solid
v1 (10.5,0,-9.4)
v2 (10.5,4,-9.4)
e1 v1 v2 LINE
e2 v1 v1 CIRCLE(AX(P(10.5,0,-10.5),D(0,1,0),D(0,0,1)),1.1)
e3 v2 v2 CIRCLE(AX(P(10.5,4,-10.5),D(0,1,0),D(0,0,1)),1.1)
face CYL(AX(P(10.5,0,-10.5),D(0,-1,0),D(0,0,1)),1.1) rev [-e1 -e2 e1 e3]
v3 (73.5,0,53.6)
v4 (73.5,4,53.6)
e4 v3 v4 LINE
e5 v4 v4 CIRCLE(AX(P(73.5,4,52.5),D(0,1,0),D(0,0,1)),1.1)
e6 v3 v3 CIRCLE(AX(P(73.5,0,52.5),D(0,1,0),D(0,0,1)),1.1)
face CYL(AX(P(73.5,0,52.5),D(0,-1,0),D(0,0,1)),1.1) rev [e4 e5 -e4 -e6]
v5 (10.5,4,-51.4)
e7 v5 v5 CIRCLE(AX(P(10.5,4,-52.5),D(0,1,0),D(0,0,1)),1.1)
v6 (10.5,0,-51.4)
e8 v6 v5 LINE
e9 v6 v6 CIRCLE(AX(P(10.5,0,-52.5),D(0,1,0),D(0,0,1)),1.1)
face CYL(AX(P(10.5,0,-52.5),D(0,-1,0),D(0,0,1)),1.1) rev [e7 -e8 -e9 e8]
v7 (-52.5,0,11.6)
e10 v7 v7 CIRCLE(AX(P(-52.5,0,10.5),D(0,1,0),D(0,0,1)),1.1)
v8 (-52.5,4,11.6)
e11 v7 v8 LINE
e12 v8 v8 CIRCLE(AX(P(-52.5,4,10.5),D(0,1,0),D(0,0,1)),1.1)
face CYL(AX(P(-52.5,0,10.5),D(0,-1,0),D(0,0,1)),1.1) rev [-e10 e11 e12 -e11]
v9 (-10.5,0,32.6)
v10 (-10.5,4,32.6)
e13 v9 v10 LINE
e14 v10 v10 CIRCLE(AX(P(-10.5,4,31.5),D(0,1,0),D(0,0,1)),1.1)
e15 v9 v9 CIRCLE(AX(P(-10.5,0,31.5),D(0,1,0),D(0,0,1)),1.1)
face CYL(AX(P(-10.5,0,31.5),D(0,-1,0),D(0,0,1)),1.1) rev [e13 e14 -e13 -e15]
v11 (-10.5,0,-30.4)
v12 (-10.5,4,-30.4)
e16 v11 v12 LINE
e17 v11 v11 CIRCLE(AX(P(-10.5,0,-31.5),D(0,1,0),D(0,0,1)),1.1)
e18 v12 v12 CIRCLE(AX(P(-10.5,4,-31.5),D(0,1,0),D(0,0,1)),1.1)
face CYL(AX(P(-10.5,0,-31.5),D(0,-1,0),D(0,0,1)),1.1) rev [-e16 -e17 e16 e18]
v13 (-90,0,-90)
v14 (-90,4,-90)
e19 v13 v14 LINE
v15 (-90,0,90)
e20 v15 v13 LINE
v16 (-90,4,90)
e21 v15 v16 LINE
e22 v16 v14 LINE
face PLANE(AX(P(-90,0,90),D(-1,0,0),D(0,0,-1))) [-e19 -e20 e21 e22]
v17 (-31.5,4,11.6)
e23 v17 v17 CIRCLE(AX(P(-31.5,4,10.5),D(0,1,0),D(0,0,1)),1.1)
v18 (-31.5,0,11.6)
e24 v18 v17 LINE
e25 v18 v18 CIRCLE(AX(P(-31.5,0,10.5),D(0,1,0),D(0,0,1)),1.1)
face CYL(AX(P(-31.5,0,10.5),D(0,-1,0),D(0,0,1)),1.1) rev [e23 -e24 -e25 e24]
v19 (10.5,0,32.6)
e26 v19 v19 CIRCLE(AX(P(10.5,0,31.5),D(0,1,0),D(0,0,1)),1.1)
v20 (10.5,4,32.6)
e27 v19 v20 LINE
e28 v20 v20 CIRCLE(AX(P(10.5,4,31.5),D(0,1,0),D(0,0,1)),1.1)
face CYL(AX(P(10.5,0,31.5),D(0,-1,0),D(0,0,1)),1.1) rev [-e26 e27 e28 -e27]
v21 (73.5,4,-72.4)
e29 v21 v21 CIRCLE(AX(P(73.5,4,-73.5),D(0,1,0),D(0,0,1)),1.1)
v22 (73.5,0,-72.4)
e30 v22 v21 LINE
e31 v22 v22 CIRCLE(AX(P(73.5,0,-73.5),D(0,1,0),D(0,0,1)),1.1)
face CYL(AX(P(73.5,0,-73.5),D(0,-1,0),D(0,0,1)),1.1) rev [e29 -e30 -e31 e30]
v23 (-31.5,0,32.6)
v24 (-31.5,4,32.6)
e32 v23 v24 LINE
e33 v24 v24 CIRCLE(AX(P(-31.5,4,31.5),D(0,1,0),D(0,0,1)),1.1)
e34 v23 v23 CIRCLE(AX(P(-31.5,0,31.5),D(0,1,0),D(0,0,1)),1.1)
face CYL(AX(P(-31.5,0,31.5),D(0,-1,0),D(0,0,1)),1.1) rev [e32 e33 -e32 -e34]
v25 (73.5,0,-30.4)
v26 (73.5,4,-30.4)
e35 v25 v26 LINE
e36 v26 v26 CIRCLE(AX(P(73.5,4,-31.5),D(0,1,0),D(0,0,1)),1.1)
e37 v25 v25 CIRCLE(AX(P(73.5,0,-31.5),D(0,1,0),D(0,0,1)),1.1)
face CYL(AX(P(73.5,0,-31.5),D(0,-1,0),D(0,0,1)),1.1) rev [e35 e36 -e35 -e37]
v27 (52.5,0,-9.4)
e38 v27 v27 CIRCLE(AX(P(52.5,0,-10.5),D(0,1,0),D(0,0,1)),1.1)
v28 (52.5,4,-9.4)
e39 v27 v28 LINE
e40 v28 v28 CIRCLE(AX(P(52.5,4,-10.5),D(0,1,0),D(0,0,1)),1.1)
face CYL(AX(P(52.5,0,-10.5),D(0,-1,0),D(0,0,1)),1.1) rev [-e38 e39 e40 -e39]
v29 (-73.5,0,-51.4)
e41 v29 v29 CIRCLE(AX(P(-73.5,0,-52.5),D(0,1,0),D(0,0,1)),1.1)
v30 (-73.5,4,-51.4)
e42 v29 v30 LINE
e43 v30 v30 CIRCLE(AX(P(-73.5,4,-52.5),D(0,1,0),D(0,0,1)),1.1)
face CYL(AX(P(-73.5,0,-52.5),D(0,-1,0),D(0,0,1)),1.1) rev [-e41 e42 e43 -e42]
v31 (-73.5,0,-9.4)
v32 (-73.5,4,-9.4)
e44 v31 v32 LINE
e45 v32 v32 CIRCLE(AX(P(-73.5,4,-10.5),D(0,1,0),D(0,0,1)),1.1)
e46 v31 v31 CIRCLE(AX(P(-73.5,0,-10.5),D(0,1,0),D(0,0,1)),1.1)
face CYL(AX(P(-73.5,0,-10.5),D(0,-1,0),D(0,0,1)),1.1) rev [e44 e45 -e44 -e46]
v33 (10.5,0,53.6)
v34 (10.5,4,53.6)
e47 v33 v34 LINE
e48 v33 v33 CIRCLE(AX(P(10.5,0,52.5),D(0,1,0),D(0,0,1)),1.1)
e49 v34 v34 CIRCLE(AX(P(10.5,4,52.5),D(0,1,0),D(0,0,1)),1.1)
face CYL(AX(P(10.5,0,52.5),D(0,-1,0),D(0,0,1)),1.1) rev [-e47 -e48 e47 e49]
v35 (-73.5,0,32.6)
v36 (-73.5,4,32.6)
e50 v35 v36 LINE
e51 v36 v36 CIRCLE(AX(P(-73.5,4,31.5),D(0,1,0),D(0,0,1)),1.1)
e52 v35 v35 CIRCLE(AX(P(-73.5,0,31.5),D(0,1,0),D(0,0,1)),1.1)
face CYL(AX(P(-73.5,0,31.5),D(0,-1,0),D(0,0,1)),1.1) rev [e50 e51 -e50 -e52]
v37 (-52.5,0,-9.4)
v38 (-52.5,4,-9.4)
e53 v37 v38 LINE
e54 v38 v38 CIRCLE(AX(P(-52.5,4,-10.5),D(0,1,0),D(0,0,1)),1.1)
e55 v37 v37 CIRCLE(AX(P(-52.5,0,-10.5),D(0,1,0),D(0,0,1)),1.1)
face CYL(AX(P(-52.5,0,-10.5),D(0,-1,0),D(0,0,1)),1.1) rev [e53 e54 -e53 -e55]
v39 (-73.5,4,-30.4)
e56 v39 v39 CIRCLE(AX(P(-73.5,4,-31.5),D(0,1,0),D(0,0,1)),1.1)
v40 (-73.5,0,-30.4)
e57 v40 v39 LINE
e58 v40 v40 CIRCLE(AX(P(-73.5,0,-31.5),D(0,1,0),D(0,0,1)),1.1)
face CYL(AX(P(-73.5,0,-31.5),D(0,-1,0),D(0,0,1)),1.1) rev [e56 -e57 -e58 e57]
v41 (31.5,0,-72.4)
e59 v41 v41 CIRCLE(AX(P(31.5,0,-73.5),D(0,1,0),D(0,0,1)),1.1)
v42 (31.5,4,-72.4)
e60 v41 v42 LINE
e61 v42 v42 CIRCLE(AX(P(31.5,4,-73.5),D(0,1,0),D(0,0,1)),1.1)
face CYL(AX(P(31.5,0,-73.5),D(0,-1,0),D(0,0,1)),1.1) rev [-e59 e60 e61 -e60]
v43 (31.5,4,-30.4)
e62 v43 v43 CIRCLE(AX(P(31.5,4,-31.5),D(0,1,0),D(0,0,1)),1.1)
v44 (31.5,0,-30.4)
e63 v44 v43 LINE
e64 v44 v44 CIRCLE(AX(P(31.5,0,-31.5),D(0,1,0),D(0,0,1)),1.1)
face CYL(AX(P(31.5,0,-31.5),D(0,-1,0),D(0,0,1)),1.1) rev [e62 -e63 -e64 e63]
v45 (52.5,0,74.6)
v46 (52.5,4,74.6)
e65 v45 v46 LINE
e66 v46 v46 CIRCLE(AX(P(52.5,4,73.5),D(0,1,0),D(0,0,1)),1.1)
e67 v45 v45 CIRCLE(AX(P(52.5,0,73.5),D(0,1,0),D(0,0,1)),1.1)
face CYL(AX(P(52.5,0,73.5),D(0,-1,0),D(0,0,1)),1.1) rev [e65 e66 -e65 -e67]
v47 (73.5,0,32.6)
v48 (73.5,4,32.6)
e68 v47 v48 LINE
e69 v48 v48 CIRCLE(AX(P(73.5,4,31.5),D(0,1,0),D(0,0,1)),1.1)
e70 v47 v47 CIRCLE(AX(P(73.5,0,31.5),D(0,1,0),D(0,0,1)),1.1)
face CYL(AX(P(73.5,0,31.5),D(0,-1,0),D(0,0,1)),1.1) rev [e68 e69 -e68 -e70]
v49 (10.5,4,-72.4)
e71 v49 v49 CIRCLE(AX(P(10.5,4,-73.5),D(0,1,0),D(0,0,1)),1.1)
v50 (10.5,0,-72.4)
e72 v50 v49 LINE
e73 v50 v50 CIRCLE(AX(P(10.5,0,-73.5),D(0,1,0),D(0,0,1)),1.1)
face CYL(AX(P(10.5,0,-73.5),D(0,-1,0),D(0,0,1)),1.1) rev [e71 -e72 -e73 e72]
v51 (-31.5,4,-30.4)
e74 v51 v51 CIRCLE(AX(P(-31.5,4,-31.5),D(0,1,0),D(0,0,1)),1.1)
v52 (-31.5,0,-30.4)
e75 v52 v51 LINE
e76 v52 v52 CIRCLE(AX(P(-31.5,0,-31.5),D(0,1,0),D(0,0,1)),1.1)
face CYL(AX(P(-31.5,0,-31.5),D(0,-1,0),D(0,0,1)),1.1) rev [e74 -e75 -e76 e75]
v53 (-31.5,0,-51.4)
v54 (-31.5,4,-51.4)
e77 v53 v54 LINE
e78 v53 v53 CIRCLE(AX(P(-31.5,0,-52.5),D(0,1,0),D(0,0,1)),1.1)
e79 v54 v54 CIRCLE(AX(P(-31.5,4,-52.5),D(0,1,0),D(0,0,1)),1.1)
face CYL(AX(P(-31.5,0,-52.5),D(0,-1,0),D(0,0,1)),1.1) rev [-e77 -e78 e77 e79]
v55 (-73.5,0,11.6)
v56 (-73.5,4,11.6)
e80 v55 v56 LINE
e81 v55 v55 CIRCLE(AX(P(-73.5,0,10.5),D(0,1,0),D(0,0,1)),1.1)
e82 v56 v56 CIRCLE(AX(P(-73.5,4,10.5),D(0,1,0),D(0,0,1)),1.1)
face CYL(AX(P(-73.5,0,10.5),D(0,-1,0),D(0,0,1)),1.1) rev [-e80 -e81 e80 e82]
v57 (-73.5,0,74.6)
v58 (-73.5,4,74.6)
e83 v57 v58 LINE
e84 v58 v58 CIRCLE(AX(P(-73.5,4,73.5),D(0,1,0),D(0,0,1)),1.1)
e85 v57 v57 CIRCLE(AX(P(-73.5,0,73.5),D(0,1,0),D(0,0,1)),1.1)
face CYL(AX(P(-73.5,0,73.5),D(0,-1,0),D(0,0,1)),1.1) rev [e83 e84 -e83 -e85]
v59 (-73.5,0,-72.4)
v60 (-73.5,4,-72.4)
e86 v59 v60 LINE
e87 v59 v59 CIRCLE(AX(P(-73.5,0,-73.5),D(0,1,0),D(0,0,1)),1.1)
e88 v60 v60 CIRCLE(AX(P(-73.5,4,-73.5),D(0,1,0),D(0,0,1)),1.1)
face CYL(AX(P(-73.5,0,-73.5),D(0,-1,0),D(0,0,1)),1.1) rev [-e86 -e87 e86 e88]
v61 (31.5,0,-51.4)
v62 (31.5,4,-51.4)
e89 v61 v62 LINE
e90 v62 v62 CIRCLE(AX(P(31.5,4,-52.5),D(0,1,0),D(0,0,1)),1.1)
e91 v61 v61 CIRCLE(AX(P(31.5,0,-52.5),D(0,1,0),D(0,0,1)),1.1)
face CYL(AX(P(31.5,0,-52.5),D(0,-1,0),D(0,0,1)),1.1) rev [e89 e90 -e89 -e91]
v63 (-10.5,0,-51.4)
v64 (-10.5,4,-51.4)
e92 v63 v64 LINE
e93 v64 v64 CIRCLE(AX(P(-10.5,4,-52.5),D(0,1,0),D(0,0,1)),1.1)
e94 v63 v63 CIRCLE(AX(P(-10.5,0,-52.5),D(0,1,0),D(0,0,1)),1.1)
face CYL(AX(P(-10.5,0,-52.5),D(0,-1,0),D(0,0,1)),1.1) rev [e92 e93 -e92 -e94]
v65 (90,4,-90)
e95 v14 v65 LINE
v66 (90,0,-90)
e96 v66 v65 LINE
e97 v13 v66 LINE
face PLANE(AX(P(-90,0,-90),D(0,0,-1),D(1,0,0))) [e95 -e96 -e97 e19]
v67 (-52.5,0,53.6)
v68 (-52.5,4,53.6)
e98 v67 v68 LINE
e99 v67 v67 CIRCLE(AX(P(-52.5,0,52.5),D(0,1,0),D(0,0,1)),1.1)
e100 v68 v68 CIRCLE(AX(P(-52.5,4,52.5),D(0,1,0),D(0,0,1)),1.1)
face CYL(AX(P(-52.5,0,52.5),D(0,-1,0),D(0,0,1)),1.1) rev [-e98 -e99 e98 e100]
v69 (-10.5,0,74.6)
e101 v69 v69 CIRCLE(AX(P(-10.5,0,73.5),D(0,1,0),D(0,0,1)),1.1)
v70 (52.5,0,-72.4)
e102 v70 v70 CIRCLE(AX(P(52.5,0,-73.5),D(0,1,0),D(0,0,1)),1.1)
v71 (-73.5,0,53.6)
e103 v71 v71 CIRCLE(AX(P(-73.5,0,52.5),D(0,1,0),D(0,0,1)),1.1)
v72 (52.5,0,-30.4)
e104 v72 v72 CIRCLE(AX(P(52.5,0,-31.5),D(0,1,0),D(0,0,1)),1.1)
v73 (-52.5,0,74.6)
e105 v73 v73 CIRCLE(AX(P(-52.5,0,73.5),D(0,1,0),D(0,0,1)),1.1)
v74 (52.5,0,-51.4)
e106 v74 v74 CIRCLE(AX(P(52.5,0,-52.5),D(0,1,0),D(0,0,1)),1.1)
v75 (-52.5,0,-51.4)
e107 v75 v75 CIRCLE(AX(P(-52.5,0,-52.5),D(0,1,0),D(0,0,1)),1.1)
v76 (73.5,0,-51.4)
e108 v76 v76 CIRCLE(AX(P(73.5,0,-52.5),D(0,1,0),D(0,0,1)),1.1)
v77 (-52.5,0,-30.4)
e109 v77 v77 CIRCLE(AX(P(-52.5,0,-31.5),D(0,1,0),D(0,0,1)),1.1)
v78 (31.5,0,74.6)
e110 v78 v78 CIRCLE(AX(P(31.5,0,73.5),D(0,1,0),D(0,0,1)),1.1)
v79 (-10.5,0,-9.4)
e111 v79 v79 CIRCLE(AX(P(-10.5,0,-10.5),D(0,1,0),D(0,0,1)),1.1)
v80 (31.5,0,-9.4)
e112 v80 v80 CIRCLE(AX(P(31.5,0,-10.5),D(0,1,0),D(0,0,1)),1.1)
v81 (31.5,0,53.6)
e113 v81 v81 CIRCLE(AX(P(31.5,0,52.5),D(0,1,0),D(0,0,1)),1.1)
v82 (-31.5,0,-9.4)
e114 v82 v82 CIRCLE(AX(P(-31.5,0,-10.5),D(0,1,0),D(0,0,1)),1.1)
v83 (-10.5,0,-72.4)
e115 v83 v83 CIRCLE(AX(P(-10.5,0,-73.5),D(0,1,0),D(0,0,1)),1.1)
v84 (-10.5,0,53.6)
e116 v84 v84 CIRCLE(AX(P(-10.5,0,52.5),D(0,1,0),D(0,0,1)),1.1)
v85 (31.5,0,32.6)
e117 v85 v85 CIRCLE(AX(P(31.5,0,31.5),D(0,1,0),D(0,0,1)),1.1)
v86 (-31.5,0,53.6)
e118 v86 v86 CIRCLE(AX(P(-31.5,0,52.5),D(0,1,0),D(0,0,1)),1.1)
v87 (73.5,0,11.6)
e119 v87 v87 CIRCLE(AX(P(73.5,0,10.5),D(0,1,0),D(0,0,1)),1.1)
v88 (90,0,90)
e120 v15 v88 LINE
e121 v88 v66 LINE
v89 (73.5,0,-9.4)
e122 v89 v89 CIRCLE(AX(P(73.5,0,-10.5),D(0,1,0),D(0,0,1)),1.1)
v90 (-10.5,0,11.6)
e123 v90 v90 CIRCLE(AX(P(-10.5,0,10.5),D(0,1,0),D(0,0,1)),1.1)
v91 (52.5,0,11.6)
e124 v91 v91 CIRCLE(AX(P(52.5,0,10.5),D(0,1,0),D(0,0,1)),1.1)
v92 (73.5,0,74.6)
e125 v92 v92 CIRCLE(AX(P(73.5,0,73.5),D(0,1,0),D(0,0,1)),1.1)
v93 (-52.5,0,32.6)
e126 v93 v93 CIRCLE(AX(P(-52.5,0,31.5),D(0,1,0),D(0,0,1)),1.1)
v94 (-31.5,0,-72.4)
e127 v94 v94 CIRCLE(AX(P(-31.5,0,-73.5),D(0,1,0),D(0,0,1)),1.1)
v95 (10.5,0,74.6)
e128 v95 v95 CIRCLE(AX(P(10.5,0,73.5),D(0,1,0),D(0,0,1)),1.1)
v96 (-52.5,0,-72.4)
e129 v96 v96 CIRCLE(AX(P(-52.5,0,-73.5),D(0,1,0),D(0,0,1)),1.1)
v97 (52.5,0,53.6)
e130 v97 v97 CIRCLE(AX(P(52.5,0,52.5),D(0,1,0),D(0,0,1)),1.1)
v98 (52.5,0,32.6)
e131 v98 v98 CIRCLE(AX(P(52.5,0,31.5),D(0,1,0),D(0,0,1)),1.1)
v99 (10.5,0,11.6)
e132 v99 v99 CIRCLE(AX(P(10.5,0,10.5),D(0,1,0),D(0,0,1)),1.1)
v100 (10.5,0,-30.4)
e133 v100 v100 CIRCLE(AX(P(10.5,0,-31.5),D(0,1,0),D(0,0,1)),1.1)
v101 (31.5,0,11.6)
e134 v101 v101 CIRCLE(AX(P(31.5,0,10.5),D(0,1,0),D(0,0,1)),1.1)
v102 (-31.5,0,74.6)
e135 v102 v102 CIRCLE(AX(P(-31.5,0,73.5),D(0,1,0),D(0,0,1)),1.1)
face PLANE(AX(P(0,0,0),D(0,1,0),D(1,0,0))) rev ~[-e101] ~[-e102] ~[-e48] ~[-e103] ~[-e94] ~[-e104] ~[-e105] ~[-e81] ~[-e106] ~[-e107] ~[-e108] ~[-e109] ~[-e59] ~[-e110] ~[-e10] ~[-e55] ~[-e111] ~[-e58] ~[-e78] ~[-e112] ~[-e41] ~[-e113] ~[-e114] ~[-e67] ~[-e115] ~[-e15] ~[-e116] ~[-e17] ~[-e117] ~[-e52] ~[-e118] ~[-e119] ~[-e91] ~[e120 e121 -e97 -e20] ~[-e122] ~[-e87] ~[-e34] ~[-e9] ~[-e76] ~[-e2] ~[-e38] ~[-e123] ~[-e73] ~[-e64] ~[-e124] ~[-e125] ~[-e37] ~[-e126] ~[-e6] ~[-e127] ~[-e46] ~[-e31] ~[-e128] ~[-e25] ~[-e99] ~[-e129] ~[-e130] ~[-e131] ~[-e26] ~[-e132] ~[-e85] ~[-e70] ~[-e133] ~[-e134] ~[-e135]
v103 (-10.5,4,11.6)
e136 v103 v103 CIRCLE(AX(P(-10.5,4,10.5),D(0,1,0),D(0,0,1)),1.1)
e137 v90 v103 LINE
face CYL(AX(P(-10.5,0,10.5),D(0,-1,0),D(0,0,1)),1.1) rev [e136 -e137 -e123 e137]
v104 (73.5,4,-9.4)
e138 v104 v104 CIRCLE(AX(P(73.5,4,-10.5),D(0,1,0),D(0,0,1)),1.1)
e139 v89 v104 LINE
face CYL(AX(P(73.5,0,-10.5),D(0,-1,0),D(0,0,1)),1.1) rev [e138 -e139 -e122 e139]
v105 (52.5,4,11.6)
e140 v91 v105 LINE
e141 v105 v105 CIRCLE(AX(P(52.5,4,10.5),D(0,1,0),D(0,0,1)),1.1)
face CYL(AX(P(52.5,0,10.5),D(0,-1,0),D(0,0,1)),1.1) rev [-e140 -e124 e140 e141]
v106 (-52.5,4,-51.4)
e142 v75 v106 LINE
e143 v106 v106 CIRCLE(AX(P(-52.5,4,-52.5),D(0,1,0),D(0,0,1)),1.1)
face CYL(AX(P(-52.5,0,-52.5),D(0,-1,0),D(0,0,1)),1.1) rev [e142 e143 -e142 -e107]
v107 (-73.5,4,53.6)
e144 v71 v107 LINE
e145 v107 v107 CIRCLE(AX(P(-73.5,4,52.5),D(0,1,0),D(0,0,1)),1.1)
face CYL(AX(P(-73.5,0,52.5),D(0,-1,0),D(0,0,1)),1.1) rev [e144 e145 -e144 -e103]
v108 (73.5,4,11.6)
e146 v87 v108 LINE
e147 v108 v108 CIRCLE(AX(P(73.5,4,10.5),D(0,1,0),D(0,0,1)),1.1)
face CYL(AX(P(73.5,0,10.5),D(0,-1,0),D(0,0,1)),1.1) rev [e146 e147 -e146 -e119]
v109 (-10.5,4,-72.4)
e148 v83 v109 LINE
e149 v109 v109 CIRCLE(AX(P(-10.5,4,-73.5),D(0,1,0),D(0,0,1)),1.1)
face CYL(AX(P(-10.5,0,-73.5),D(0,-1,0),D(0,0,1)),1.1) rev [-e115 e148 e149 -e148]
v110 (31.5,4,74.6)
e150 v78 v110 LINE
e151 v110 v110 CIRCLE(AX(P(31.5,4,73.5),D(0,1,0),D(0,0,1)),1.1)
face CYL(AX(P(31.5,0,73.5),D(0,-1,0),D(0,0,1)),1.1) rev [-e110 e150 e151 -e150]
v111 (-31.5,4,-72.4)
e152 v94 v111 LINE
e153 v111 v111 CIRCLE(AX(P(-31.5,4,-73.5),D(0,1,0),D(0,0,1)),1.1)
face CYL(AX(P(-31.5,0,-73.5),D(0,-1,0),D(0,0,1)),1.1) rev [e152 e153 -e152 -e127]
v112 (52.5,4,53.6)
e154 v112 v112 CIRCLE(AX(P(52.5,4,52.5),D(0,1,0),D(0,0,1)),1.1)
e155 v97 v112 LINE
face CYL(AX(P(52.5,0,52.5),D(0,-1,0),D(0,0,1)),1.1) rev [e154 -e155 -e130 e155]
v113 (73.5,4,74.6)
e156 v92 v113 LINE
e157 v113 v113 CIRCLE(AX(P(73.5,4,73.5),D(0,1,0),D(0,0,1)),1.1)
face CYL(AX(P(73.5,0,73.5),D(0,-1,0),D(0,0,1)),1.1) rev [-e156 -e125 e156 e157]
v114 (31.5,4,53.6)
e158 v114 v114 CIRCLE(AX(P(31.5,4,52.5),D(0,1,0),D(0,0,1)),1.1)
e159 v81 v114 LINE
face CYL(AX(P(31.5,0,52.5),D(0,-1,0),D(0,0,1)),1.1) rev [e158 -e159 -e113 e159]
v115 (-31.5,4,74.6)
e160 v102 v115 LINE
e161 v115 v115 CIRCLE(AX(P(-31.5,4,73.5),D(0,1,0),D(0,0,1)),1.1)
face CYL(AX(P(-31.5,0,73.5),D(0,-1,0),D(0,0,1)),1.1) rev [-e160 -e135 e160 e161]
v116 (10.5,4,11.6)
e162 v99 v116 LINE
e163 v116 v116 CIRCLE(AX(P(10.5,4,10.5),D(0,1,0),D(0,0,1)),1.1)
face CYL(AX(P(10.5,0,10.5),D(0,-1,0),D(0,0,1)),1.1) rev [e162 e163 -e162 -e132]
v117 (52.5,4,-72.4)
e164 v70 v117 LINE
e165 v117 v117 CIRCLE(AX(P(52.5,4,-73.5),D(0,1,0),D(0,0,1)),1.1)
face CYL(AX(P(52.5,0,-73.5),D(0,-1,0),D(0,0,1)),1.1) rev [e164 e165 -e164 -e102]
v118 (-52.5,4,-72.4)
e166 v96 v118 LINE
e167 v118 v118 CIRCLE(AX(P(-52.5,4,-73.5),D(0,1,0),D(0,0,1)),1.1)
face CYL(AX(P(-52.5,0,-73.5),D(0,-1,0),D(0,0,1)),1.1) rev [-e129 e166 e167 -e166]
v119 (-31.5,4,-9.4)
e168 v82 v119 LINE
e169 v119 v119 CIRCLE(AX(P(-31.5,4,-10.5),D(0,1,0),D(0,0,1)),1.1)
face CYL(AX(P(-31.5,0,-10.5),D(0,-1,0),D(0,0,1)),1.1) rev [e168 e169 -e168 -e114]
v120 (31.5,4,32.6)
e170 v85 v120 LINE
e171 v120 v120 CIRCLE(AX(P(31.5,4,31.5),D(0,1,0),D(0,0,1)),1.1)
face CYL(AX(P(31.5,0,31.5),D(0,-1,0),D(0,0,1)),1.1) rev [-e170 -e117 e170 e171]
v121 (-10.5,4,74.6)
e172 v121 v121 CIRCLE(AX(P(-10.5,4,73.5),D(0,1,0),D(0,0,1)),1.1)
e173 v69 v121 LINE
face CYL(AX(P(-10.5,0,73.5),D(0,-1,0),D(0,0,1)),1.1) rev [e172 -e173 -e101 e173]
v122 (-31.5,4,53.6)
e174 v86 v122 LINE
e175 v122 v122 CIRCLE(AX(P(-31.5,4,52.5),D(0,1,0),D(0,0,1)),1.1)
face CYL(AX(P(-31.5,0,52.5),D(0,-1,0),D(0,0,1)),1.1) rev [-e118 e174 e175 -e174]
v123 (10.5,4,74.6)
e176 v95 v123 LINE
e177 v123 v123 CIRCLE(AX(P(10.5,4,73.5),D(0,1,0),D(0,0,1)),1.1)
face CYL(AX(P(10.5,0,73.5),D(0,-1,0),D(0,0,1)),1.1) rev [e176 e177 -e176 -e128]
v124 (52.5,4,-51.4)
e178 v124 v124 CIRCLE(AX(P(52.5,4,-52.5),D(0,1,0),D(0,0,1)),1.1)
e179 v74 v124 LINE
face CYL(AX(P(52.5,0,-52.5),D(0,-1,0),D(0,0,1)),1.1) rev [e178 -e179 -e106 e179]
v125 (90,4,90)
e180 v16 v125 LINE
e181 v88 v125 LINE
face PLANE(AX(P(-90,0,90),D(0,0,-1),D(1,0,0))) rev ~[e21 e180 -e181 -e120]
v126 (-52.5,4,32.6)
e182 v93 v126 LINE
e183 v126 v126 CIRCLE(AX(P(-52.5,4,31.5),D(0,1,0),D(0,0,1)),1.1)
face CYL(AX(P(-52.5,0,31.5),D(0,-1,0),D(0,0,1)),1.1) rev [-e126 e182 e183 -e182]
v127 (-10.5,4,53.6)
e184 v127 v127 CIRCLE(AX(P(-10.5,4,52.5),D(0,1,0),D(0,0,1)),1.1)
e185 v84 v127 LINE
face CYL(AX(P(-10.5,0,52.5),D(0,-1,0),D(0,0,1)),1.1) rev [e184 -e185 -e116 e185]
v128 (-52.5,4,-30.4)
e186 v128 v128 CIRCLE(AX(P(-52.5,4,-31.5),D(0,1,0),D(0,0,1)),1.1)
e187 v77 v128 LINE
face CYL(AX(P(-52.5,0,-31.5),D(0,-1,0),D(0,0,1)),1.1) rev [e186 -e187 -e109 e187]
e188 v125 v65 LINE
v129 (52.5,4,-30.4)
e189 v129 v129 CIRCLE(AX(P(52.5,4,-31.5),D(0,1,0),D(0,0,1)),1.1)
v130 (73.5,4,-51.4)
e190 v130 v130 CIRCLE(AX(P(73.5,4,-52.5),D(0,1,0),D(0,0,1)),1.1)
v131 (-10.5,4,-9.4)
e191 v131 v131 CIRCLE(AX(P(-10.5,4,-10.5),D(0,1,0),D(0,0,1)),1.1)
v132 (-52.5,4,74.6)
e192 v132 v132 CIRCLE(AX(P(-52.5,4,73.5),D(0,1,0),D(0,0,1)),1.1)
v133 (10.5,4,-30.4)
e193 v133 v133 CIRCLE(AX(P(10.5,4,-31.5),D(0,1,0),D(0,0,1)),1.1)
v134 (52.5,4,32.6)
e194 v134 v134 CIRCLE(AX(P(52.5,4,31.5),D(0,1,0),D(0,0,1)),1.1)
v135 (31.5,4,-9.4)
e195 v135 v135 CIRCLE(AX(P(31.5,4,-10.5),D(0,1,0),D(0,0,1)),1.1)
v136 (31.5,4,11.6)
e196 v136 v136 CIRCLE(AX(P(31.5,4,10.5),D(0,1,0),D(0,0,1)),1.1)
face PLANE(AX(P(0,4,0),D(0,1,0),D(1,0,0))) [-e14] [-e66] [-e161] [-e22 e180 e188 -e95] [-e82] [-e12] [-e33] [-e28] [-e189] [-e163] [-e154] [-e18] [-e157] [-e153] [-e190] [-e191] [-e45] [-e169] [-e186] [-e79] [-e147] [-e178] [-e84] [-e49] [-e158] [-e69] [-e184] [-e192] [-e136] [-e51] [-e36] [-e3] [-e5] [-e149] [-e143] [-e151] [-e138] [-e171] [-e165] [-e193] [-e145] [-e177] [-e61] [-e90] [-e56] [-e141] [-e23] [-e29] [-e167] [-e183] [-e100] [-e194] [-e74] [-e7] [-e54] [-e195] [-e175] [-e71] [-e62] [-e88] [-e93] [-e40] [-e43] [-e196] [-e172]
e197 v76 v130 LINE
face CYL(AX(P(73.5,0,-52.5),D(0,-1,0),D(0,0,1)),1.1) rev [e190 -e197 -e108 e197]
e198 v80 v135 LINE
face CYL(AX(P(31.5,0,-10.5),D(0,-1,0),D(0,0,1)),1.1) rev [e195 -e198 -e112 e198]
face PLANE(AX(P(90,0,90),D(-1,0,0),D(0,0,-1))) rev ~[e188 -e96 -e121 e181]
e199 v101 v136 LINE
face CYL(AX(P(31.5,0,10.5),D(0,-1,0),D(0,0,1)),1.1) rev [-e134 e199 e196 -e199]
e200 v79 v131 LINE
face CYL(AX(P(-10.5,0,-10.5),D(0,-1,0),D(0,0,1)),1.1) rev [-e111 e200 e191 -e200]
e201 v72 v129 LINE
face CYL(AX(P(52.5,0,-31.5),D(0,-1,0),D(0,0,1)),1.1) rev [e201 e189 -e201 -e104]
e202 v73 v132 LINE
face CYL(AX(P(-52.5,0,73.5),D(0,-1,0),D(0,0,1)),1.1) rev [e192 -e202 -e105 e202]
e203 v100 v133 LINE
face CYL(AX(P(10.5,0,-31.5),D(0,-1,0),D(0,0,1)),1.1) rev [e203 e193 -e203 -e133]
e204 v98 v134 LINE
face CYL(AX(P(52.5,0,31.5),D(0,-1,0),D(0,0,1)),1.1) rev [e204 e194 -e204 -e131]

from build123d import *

# Parameters (mm, degrees)
SKETCH_1_W      = 180
SKETCH_1_H      = 180
SKETCH_1_R      = 1.1
EXTRUDE_1_DEPTH = 4


with BuildPart() as part:
    # ｽｹｯﾁ1 → ﾎﾞｽ - 押し出し1 (new body)
    with BuildSketch(Plane(origin=(0, 0, 0), x_dir=(1, 0, 0), z_dir=(0, 1, 0))):
        Rectangle(SKETCH_1_W, SKETCH_1_H)
        with Locations(Location((-73.5, 52.5, 0), (0, 0, 270))):
            Circle(SKETCH_1_R, mode=Mode.SUBTRACT)
        with Locations(Location((-73.5, 73.5, 0), (0, 0, 270))):
            Circle(SKETCH_1_R, mode=Mode.SUBTRACT)
        with Locations(Location((-52.5, 73.5, 0), (0, 0, 270))):
            Circle(SKETCH_1_R, mode=Mode.SUBTRACT)
        with Locations(Location((-52.5, 52.5, 0), (0, 0, 270))):
            Circle(SKETCH_1_R, mode=Mode.SUBTRACT)
        with Locations(Location((-31.5, 52.5, 0), (0, 0, 270))):
            Circle(SKETCH_1_R, mode=Mode.SUBTRACT)
        with Locations(Location((-31.5, 73.5, 0), (0, 0, 270))):
            Circle(SKETCH_1_R, mode=Mode.SUBTRACT)
        with Locations(Location((-10.5, 73.5, 0), (0, 0, 270))):
            Circle(SKETCH_1_R, mode=Mode.SUBTRACT)
        with Locations(Location((-10.5, 52.5, 0), (0, 0, 270))):
            Circle(SKETCH_1_R, mode=Mode.SUBTRACT)
        with Locations(Location((10.5, 52.5, 0), (0, 0, 270))):
            Circle(SKETCH_1_R, mode=Mode.SUBTRACT)
        with Locations(Location((10.5, 73.5, 0), (0, 0, 270))):
            Circle(SKETCH_1_R, mode=Mode.SUBTRACT)
        with Locations(Location((31.5, 73.5, 0), (0, 0, 270))):
            Circle(SKETCH_1_R, mode=Mode.SUBTRACT)
        with Locations(Location((31.5, 52.5, 0), (0, 0, 270))):
            Circle(SKETCH_1_R, mode=Mode.SUBTRACT)
        with Locations(Location((52.5, 52.5, 0), (0, 0, 270))):
            Circle(SKETCH_1_R, mode=Mode.SUBTRACT)
        with Locations(Location((52.5, 73.5, 0), (0, 0, 270))):
            Circle(SKETCH_1_R, mode=Mode.SUBTRACT)
        with Locations(Location((73.5, 73.5, 0), (0, 0, 270))):
            Circle(SKETCH_1_R, mode=Mode.SUBTRACT)
        with Locations(Location((73.5, 52.5, 0), (0, 0, 270))):
            Circle(SKETCH_1_R, mode=Mode.SUBTRACT)
        with Locations(Location((-31.5, 10.5, 0), (0, 0, 270))):
            Circle(SKETCH_1_R, mode=Mode.SUBTRACT)
        with Locations(Location((-31.5, 31.5, 0), (0, 0, 270))):
            Circle(SKETCH_1_R, mode=Mode.SUBTRACT)
        with Locations(Location((-10.5, 31.5, 0), (0, 0, 270))):
            Circle(SKETCH_1_R, mode=Mode.SUBTRACT)
        with Locations(Location((-10.5, 10.5, 0), (0, 0, 270))):
            Circle(SKETCH_1_R, mode=Mode.SUBTRACT)
        with Locations(Location((10.5, 10.5, 0), (0, 0, 270))):
            Circle(SKETCH_1_R, mode=Mode.SUBTRACT)
        with Locations(Location((10.5, 31.5, 0), (0, 0, 270))):
            Circle(SKETCH_1_R, mode=Mode.SUBTRACT)
        with Locations(Location((31.5, 31.5, 0), (0, 0, 270))):
            Circle(SKETCH_1_R, mode=Mode.SUBTRACT)
        with Locations(Location((31.5, 10.5, 0), (0, 0, 270))):
            Circle(SKETCH_1_R, mode=Mode.SUBTRACT)
        with Locations(Location((52.5, 10.5, 0), (0, 0, 270))):
            Circle(SKETCH_1_R, mode=Mode.SUBTRACT)
        with Locations(Location((52.5, 31.5, 0), (0, 0, 270))):
            Circle(SKETCH_1_R, mode=Mode.SUBTRACT)
        with Locations(Location((73.5, 31.5, 0), (0, 0, 270))):
            Circle(SKETCH_1_R, mode=Mode.SUBTRACT)
        with Locations(Location((73.5, 10.5, 0), (0, 0, 270))):
            Circle(SKETCH_1_R, mode=Mode.SUBTRACT)
        with Locations(Location((-31.5, -31.5, 0), (0, 0, 270))):
            Circle(SKETCH_1_R, mode=Mode.SUBTRACT)
        with Locations(Location((-31.5, -10.5, 0), (0, 0, 270))):
            Circle(SKETCH_1_R, mode=Mode.SUBTRACT)
        with Locations(Location((-10.5, -10.5, 0), (0, 0, 270))):
            Circle(SKETCH_1_R, mode=Mode.SUBTRACT)
        with Locations(Location((-10.5, -31.5, 0), (0, 0, 270))):
            Circle(SKETCH_1_R, mode=Mode.SUBTRACT)
        with Locations(Location((10.5, -31.5, 0), (0, 0, 270))):
            Circle(SKETCH_1_R, mode=Mode.SUBTRACT)
        with Locations(Location((10.5, -10.5, 0), (0, 0, 270))):
            Circle(SKETCH_1_R, mode=Mode.SUBTRACT)
        with Locations(Location((31.5, -10.5, 0), (0, 0, 270))):
            Circle(SKETCH_1_R, mode=Mode.SUBTRACT)
        with Locations(Location((31.5, -31.5, 0), (0, 0, 270))):
            Circle(SKETCH_1_R, mode=Mode.SUBTRACT)
        with Locations(Location((52.5, -31.5, 0), (0, 0, 270))):
            Circle(SKETCH_1_R, mode=Mode.SUBTRACT)
        with Locations(Location((52.5, -10.5, 0), (0, 0, 270))):
            Circle(SKETCH_1_R, mode=Mode.SUBTRACT)
        with Locations(Location((73.5, -10.5, 0), (0, 0, 270))):
            Circle(SKETCH_1_R, mode=Mode.SUBTRACT)
        with Locations(Location((73.5, -31.5, 0), (0, 0, 270))):
            Circle(SKETCH_1_R, mode=Mode.SUBTRACT)
        with Locations(Location((-31.5, -73.5, 0), (0, 0, 270))):
            Circle(SKETCH_1_R, mode=Mode.SUBTRACT)
        with Locations(Location((-31.5, -52.5, 0), (0, 0, 270))):
            Circle(SKETCH_1_R, mode=Mode.SUBTRACT)
        with Locations(Location((-10.5, -52.5, 0), (0, 0, 270))):
            Circle(SKETCH_1_R, mode=Mode.SUBTRACT)
        with Locations(Location((-10.5, -73.5, 0), (0, 0, 270))):
            Circle(SKETCH_1_R, mode=Mode.SUBTRACT)
        with Locations(Location((10.5, -73.5, 0), (0, 0, 270))):
            Circle(SKETCH_1_R, mode=Mode.SUBTRACT)
        with Locations(Location((10.5, -52.5, 0), (0, 0, 270))):
            Circle(SKETCH_1_R, mode=Mode.SUBTRACT)
        with Locations(Location((31.5, -52.5, 0), (0, 0, 270))):
            Circle(SKETCH_1_R, mode=Mode.SUBTRACT)
        with Locations(Location((31.5, -73.5, 0), (0, 0, 270))):
            Circle(SKETCH_1_R, mode=Mode.SUBTRACT)
        with Locations(Location((52.5, -73.5, 0), (0, 0, 270))):
            Circle(SKETCH_1_R, mode=Mode.SUBTRACT)
        with Locations(Location((52.5, -52.5, 0), (0, 0, 270))):
            Circle(SKETCH_1_R, mode=Mode.SUBTRACT)
        with Locations(Location((73.5, -52.5, 0), (0, 0, 270))):
            Circle(SKETCH_1_R, mode=Mode.SUBTRACT)
        with Locations(Location((73.5, -73.5, 0), (0, 0, 270))):
            Circle(SKETCH_1_R, mode=Mode.SUBTRACT)
        with Locations(Location((-73.5, 10.5, 0), (0, 0, 270))):
            Circle(SKETCH_1_R, mode=Mode.SUBTRACT)
        with Locations(Location((-73.5, 31.5, 0), (0, 0, 270))):
            Circle(SKETCH_1_R, mode=Mode.SUBTRACT)
        with Locations(Location((-52.5, 31.5, 0), (0, 0, 270))):
            Circle(SKETCH_1_R, mode=Mode.SUBTRACT)
        with Locations(Location((-52.5, 10.5, 0), (0, 0, 270))):
            Circle(SKETCH_1_R, mode=Mode.SUBTRACT)
        with Locations(Location((-73.5, -31.5, 0), (0, 0, 270))):
            Circle(SKETCH_1_R, mode=Mode.SUBTRACT)
        with Locations(Location((-73.5, -10.5, 0), (0, 0, 270))):
            Circle(SKETCH_1_R, mode=Mode.SUBTRACT)
        with Locations(Location((-52.5, -10.5, 0), (0, 0, 270))):
            Circle(SKETCH_1_R, mode=Mode.SUBTRACT)
        with Locations(Location((-52.5, -31.5, 0), (0, 0, 270))):
            Circle(SKETCH_1_R, mode=Mode.SUBTRACT)
        with Locations(Location((-73.5, -73.5, 0), (0, 0, 270))):
            Circle(SKETCH_1_R, mode=Mode.SUBTRACT)
        with Locations(Location((-73.5, -52.5, 0), (0, 0, 270))):
            Circle(SKETCH_1_R, mode=Mode.SUBTRACT)
        with Locations(Location((-52.5, -52.5, 0), (0, 0, 270))):
            Circle(SKETCH_1_R, mode=Mode.SUBTRACT)
        with Locations(Location((-52.5, -73.5, 0), (0, 0, 270))):
            Circle(SKETCH_1_R, mode=Mode.SUBTRACT)
    extrude(amount=EXTRUDE_1_DEPTH)


solid = part.part
